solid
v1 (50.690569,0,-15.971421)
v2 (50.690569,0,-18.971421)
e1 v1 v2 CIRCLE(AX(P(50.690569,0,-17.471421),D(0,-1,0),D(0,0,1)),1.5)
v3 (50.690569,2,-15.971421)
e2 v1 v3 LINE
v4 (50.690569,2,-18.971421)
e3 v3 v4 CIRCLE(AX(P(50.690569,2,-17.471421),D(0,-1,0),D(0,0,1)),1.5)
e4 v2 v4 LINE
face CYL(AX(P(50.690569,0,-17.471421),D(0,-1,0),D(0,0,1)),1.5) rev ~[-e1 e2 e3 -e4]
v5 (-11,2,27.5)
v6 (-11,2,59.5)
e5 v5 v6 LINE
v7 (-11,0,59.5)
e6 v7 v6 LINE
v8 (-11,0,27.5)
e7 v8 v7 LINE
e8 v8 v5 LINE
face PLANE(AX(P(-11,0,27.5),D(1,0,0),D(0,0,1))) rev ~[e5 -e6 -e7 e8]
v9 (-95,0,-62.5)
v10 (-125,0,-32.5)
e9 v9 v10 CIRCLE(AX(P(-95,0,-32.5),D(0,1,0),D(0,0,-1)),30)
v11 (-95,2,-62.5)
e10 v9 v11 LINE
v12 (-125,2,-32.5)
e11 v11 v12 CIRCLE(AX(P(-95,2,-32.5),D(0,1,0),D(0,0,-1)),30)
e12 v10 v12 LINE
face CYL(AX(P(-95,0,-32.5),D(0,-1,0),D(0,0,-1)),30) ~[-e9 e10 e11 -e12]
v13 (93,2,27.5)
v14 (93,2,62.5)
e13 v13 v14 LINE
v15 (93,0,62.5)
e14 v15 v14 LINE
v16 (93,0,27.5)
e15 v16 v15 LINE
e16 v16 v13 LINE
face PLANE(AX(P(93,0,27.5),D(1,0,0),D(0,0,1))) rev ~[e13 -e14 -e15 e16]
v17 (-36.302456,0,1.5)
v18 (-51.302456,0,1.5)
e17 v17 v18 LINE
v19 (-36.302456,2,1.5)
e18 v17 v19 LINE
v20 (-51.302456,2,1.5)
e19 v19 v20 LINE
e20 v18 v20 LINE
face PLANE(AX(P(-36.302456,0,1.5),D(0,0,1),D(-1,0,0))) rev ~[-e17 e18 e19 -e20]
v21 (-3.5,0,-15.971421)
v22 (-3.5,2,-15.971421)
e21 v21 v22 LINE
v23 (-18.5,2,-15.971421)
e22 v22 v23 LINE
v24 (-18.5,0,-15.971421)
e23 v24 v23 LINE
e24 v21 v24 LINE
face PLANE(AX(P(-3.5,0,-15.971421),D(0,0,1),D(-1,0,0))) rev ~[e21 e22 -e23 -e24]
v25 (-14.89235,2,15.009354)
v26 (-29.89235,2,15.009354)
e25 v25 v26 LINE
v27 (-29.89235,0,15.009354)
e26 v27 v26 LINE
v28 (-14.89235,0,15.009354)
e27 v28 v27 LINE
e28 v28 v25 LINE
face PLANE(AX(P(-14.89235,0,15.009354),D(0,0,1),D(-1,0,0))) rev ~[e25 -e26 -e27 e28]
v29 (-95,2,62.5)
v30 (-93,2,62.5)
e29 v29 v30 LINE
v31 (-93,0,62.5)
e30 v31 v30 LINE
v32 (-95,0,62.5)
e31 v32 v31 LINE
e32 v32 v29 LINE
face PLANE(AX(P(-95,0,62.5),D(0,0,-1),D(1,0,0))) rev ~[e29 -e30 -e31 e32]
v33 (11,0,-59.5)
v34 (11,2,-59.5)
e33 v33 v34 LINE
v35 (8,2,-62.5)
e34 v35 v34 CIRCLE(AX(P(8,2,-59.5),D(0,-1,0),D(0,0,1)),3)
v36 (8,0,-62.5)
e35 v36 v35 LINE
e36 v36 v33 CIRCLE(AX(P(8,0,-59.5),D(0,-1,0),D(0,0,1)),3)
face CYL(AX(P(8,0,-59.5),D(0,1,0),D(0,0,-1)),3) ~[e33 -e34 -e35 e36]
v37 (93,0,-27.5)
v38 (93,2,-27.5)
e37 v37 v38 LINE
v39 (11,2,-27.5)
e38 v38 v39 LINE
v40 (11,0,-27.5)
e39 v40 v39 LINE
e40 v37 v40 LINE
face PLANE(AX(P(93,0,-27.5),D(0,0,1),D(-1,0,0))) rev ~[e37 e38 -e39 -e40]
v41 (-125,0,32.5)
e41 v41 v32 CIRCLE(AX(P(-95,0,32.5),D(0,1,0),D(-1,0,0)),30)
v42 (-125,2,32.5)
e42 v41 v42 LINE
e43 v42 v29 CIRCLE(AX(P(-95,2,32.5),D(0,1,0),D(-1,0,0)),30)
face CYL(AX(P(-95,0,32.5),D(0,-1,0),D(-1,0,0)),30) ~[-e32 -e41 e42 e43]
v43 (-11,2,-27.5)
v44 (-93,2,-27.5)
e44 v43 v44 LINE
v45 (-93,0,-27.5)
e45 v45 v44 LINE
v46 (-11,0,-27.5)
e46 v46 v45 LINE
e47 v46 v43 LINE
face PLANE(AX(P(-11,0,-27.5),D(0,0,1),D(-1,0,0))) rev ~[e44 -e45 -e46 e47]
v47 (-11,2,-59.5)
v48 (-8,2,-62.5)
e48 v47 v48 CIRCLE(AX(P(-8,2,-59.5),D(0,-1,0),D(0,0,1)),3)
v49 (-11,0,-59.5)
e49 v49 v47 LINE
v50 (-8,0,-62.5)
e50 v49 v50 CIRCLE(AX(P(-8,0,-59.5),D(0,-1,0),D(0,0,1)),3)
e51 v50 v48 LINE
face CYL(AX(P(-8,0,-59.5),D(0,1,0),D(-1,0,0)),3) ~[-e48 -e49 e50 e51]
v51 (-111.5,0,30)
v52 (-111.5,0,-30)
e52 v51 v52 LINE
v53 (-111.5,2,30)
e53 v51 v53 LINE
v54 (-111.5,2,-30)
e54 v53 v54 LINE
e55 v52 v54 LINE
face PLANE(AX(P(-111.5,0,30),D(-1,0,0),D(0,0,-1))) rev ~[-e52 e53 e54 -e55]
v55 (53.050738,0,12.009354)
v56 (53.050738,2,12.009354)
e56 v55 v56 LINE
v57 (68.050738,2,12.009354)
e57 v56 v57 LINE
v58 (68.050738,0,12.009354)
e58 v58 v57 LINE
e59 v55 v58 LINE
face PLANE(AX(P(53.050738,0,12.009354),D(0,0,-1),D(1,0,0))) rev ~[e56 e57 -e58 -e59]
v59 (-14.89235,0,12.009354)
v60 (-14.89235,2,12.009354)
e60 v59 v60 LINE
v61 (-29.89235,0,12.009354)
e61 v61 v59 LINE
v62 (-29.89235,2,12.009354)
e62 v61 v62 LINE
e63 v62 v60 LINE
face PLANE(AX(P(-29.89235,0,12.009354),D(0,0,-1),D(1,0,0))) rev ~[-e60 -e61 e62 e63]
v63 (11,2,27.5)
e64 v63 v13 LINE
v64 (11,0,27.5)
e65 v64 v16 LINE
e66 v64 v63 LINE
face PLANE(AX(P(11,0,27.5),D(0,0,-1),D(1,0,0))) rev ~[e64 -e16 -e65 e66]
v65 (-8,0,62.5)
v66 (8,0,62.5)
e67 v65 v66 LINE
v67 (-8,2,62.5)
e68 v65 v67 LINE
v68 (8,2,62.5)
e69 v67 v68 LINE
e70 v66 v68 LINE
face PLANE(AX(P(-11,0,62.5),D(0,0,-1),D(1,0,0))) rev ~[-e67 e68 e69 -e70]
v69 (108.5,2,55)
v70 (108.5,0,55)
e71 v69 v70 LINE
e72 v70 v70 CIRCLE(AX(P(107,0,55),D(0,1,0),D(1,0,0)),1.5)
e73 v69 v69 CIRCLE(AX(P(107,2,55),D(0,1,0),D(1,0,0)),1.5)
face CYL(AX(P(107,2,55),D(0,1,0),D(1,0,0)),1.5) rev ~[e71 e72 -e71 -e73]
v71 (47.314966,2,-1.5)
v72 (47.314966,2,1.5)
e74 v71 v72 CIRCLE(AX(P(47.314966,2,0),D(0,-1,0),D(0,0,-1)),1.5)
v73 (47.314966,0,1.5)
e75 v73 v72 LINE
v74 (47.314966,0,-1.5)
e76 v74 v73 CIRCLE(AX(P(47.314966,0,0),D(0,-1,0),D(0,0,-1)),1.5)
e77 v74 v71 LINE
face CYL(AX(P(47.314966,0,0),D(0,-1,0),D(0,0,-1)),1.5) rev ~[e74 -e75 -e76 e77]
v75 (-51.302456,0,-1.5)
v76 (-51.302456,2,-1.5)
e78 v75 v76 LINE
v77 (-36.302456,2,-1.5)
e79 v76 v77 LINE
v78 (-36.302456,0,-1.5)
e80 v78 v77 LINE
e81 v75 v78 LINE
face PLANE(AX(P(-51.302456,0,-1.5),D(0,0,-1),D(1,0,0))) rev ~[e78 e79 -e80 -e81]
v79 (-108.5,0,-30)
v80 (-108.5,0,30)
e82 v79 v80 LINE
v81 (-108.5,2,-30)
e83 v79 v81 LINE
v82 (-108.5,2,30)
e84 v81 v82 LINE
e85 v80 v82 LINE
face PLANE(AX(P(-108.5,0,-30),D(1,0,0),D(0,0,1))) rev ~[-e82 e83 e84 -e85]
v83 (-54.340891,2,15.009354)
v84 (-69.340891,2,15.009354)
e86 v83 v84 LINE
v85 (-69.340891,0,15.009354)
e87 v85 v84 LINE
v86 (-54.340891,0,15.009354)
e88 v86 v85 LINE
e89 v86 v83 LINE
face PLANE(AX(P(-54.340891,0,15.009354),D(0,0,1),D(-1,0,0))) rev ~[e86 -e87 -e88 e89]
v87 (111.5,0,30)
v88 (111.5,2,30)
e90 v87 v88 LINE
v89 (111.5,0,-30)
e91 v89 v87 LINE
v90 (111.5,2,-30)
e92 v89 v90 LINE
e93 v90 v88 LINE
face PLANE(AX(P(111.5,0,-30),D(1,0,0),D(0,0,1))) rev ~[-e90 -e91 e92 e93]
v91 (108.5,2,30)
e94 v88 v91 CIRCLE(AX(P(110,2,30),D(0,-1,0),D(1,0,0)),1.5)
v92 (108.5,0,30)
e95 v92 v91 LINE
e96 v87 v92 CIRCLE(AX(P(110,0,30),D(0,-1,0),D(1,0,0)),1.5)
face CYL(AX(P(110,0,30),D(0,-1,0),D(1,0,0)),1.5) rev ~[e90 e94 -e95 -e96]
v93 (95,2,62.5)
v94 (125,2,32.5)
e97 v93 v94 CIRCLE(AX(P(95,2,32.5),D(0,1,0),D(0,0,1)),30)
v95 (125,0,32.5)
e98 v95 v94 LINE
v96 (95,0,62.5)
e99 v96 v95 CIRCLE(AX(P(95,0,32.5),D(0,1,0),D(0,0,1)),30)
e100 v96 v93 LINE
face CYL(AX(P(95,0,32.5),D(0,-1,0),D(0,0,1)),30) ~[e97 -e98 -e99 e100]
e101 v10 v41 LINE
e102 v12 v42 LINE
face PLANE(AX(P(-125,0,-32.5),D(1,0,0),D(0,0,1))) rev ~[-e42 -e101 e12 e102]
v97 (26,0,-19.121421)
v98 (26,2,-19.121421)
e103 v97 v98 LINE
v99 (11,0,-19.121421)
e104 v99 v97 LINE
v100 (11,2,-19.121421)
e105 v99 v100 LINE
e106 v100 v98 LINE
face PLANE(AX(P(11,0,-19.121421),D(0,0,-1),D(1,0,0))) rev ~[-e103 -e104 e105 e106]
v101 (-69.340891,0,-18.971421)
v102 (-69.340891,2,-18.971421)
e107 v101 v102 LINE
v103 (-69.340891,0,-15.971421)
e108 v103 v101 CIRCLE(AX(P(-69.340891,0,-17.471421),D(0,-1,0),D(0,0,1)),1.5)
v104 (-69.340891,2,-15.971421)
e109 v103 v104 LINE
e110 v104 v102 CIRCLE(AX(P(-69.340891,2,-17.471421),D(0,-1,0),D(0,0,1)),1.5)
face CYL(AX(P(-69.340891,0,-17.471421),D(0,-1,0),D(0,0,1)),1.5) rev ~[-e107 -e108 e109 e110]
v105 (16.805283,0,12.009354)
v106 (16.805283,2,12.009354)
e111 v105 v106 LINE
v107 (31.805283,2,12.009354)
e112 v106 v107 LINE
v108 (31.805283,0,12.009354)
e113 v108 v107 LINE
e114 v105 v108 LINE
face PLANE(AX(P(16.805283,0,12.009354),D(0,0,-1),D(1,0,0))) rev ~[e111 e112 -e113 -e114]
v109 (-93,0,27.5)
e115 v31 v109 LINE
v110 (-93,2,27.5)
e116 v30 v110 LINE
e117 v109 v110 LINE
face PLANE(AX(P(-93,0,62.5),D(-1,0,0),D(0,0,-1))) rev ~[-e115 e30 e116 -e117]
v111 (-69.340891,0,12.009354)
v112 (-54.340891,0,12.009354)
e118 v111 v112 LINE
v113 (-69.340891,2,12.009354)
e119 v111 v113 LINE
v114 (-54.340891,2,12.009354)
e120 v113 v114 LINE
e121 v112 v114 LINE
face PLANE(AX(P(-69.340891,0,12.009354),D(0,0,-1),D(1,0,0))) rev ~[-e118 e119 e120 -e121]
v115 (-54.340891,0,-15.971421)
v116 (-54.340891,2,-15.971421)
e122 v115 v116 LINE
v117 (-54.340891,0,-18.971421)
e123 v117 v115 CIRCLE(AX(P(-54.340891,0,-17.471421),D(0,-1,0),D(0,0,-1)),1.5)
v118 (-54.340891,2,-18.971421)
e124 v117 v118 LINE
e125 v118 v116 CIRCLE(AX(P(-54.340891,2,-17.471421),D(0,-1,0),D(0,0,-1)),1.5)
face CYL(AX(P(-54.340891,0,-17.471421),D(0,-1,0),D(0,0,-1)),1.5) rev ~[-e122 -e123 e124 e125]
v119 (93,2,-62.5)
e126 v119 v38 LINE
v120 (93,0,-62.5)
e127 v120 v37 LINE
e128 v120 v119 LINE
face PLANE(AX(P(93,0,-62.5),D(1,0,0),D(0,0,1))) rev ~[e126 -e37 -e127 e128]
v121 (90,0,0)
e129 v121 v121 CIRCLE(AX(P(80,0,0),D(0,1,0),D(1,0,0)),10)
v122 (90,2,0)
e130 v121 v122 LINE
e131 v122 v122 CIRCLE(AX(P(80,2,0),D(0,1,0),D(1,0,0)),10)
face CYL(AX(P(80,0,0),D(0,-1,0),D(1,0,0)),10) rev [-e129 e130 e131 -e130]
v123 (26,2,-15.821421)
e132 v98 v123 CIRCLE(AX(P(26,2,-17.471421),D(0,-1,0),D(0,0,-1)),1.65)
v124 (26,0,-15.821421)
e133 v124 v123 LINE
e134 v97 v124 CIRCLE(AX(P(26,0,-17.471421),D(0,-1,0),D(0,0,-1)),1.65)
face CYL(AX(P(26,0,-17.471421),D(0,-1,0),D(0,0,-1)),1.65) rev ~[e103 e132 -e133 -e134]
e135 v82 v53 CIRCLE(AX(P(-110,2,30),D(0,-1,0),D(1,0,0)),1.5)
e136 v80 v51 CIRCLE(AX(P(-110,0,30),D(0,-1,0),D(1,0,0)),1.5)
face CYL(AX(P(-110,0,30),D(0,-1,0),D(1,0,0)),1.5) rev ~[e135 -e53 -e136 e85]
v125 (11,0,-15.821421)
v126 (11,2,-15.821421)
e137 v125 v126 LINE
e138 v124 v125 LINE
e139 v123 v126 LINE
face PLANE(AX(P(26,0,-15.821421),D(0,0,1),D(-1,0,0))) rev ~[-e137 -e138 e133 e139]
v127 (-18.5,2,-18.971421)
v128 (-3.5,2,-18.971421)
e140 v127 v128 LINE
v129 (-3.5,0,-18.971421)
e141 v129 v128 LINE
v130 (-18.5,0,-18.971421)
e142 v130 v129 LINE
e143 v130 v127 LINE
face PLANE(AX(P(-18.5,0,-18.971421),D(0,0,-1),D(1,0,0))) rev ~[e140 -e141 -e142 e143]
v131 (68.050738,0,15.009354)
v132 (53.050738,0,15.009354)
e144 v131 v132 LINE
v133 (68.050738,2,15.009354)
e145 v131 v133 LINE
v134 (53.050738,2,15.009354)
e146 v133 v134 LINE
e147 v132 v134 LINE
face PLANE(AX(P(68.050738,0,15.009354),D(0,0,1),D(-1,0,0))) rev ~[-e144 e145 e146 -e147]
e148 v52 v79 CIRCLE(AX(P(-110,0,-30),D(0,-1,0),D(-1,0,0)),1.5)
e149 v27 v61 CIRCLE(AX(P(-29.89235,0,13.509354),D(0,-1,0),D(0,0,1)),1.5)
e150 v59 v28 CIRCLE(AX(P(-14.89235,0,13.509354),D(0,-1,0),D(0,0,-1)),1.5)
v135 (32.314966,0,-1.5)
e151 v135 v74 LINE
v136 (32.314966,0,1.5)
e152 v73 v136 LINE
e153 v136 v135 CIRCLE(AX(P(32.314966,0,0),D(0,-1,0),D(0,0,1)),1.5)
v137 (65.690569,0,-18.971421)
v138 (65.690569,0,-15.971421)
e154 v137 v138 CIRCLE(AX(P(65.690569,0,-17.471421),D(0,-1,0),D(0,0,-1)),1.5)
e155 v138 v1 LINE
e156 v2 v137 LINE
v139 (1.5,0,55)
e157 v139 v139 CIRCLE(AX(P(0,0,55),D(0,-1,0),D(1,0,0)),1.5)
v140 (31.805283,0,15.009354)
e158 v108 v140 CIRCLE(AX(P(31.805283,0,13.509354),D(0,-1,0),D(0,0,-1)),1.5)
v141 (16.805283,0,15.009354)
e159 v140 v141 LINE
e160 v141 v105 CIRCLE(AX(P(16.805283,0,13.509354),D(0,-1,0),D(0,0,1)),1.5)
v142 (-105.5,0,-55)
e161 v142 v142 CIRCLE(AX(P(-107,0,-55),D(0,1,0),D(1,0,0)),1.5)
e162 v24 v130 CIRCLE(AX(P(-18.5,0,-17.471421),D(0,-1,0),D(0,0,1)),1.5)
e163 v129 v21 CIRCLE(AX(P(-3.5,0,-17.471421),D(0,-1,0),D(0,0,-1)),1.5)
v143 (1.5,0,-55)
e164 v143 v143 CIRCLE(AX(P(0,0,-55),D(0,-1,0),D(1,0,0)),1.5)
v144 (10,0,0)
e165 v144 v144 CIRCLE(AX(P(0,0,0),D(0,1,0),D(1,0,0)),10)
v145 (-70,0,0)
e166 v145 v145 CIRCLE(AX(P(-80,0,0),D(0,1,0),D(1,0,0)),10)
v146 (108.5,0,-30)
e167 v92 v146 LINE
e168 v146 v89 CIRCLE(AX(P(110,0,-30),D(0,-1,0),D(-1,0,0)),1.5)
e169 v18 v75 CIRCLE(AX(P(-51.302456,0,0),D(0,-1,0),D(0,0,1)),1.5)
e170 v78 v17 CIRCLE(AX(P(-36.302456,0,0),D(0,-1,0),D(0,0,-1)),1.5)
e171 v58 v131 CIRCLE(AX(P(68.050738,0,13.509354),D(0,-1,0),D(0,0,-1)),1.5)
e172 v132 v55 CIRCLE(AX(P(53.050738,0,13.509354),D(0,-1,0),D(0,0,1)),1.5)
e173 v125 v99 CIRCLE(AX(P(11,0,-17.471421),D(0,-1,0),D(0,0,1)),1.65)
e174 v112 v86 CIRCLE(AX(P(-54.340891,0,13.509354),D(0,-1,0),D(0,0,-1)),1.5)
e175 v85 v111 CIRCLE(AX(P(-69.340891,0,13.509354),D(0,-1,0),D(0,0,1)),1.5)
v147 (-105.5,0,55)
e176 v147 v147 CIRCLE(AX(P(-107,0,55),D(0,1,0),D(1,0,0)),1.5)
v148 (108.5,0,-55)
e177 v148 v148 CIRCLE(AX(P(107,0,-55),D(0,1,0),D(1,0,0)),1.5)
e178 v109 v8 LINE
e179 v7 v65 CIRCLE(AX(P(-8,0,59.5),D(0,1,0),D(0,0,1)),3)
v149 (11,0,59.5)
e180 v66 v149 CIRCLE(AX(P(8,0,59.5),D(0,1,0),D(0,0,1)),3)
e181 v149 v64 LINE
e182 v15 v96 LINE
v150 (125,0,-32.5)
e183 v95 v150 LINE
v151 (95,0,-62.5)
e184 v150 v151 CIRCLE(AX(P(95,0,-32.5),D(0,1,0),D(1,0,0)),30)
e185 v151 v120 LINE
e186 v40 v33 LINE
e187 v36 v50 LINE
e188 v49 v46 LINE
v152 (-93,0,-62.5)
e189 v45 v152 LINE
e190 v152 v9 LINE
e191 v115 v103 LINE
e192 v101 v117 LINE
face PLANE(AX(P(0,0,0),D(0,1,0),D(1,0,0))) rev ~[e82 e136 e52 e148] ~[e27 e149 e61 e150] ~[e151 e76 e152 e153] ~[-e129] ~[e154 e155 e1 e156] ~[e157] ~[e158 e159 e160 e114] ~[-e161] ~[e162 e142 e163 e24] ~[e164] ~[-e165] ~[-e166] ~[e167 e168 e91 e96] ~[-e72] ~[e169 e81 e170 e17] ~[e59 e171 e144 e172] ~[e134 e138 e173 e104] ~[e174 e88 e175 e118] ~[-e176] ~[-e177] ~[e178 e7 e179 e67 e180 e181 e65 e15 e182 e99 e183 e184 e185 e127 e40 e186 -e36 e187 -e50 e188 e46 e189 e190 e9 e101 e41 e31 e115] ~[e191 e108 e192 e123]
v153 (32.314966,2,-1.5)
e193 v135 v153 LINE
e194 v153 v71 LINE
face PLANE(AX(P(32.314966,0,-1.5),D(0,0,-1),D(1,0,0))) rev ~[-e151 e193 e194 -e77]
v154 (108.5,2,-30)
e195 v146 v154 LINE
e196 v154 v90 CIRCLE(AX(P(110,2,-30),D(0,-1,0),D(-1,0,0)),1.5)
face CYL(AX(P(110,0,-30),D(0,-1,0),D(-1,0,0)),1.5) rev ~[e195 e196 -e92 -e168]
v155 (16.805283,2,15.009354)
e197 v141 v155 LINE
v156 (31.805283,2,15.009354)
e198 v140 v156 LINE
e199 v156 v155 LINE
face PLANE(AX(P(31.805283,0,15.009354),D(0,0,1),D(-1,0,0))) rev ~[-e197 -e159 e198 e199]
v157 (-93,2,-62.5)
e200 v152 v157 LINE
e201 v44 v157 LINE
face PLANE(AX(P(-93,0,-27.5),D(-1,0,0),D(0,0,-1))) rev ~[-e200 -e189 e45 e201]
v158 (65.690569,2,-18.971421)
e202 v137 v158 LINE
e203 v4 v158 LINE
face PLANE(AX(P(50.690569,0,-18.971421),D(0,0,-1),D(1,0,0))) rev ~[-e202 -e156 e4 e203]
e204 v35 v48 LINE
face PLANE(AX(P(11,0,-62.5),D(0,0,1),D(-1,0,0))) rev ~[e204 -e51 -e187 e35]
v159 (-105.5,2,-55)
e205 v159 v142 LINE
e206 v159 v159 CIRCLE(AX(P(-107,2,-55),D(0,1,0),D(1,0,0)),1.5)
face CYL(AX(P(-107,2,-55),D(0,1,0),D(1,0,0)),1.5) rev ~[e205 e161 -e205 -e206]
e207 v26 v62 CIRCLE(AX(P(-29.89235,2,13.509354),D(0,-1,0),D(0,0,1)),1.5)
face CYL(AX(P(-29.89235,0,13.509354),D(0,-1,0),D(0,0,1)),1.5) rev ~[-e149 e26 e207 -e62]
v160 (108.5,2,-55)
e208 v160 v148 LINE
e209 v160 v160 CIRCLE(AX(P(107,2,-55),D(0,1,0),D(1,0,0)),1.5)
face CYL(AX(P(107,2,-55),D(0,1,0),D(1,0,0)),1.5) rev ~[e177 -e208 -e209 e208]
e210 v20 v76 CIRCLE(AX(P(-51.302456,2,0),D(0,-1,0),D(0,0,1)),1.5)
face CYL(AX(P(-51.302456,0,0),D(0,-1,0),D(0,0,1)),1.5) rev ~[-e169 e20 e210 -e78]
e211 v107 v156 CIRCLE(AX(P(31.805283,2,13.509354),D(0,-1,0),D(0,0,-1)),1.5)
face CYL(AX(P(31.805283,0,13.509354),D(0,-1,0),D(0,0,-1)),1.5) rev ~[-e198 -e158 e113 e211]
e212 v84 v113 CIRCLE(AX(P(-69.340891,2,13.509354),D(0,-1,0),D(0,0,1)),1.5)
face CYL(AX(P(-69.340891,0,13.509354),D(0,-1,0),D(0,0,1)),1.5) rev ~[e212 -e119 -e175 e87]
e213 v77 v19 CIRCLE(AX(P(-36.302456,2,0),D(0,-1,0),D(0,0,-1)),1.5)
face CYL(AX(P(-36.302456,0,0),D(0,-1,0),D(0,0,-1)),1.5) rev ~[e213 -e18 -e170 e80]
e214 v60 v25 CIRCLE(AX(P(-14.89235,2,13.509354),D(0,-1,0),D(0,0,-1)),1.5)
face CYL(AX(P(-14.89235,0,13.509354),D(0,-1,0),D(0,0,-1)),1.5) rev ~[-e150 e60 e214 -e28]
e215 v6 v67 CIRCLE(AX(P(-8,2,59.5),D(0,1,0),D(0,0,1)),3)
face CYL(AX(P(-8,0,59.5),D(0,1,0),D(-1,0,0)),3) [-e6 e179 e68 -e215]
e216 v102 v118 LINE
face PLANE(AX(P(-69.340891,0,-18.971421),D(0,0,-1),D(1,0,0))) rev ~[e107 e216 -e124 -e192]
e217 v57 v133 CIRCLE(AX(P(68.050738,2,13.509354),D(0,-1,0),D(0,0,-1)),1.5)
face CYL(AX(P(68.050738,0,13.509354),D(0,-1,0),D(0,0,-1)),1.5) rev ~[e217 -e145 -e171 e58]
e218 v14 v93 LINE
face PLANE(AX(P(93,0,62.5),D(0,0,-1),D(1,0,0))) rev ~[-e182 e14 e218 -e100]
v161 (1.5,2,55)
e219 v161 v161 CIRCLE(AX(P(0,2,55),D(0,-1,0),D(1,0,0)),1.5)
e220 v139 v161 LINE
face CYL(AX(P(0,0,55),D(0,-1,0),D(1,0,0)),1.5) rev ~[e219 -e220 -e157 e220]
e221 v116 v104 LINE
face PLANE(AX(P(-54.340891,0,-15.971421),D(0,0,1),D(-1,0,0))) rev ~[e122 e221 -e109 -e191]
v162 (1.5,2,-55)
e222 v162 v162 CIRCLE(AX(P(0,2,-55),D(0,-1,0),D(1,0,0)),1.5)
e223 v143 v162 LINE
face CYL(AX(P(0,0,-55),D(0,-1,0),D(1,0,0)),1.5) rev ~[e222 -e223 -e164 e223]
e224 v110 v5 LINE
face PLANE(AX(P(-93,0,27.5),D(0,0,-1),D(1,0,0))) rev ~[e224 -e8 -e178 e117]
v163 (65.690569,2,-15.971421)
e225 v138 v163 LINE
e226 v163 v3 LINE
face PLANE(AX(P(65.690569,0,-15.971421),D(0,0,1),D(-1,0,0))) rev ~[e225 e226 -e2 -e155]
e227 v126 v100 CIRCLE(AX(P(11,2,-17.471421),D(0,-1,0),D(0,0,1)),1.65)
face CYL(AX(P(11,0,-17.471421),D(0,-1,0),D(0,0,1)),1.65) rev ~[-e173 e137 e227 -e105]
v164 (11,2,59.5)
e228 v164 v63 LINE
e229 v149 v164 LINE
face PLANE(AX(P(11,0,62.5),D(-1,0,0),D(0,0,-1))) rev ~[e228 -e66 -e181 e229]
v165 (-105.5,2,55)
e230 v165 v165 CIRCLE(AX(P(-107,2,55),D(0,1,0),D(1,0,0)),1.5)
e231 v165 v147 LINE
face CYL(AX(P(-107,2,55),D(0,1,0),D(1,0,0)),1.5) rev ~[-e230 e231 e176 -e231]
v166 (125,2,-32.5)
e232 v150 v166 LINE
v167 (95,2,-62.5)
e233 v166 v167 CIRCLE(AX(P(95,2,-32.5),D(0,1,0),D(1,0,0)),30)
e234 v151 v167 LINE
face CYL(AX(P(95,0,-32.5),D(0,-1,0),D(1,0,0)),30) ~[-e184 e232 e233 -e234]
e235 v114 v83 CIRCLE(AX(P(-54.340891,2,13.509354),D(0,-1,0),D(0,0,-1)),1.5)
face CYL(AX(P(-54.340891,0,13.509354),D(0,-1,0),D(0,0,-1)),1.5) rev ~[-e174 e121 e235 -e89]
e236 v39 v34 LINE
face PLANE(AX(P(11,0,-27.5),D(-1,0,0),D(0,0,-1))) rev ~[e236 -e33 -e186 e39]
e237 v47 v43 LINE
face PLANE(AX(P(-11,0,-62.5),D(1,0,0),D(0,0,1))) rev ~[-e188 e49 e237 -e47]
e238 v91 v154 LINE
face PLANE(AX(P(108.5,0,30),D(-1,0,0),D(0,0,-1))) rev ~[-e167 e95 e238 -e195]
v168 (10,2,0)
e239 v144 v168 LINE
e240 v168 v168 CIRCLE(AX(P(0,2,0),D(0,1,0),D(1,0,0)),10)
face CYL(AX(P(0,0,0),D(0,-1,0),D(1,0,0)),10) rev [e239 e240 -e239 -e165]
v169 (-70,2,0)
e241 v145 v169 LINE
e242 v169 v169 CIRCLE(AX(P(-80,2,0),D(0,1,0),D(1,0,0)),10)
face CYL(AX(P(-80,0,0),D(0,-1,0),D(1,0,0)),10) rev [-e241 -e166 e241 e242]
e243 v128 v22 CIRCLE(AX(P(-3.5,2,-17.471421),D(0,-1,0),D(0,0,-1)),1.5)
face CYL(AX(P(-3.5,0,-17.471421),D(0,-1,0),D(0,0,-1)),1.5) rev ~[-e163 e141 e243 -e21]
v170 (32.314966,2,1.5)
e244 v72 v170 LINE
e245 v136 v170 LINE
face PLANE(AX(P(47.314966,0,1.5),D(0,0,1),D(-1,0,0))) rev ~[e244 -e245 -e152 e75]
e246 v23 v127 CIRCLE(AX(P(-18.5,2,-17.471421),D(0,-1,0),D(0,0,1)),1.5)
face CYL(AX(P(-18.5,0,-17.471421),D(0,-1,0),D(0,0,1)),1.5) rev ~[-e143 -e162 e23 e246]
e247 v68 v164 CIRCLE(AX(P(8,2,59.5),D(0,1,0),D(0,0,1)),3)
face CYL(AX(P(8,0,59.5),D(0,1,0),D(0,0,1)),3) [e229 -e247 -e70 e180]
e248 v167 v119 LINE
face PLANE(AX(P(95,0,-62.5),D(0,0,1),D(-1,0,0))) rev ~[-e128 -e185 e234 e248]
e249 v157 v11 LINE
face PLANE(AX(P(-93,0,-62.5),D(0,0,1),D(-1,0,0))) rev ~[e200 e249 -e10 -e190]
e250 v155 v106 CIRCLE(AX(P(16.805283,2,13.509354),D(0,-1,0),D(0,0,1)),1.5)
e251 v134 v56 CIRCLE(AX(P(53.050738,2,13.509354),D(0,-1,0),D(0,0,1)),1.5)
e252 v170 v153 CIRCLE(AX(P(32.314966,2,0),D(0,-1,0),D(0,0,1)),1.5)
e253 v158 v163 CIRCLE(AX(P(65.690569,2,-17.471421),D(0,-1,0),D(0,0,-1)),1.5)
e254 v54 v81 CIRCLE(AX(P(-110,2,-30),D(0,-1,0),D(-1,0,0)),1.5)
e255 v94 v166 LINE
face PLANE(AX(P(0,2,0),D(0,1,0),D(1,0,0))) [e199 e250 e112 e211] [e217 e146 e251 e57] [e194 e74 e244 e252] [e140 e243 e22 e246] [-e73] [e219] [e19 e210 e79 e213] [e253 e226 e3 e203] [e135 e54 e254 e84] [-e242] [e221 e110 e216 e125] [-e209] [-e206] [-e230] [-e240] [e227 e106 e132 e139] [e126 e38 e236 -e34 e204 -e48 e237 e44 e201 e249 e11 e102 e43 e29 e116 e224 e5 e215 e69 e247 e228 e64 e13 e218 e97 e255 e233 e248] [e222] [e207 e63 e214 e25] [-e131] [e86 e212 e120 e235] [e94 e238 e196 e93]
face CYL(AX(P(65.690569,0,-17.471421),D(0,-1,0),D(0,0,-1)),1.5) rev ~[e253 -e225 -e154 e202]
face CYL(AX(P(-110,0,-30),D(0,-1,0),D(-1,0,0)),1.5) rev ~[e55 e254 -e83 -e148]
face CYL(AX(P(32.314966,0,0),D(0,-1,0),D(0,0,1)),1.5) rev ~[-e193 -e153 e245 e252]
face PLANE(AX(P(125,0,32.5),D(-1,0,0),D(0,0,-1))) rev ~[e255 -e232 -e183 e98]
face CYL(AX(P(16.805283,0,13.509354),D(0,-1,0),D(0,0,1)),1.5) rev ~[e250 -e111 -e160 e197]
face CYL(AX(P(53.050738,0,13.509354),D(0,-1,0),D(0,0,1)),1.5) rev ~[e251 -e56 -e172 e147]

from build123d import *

# Parameters (mm, degrees)
SKETCH_1_R          = 10
EXTRUDE_1_DEPTH     = 2
FILLET_1_R          = 3
SKETCH_2_R          = 1.5
CUT_EXTRUDE_1_DEPTH = 3
SKETCH_3_R          = 1.5
CUT_EXTRUDE_2_DEPTH = 10


with BuildPart() as part:
    # 草图1 → 凸台-拉伸1 (new body)
    with BuildSketch(Plane(origin=(0, 0, 0), x_dir=(1, 0, 0), z_dir=(0, 1, 0))):
        with BuildLine():
            ThreePointArc((-125, -32.5), (-116.213203436, -53.713203436), (-95, -62.5))
            Line((-95, -62.5), (-93, -62.5))
            Line((-93, -62.5), (-93, -27.5))
            Line((-93, -27.5), (-11, -27.5))
            Line((-11, -27.5), (-11, -62.5))
            Line((-11, -62.5), (11, -62.5))
            Line((11, -62.5), (11, -27.5))
            Line((11, -27.5), (93, -27.5))
            Line((93, -27.5), (93, -62.5))
            Line((93, -62.5), (95, -62.5))
            ThreePointArc((95, -62.5), (116.213203436, -53.713203436), (125, -32.5))
            Line((125, -32.5), (125, 32.5))
            ThreePointArc((125, 32.5), (116.213203436, 53.713203436), (95, 62.5))
            Line((95, 62.5), (93, 62.5))
            Line((93, 62.5), (93, 27.5))
            Line((93, 27.5), (11, 27.5))
            Line((11, 27.5), (11, 62.5))
            Line((11, 62.5), (-11, 62.5))
            Line((-11, 62.5), (-11, 27.5))
            Line((-11, 27.5), (-93, 27.5))
            Line((-93, 27.5), (-93, 62.5))
            Line((-93, 62.5), (-95, 62.5))
            ThreePointArc((-95, 62.5), (-116.213203436, 53.713203436), (-125, 32.5))
            Line((-125, 32.5), (-125, -32.5))
        make_face()
        with BuildLine():
            ThreePointArc((-111.5, 30), (-110, 31.5), (-108.5, 30))
            Line((-108.5, 30), (-108.5, -30))
            ThreePointArc((-108.5, -30), (-110, -31.5), (-111.5, -30))
            Line((-111.5, -30), (-111.5, 30))
        make_face(mode=Mode.SUBTRACT)
        with Locations((-80, 0)):
            Circle(SKETCH_1_R, mode=Mode.SUBTRACT)
        with BuildLine():
            ThreePointArc((-69.340891424, -15.009353682), (-70.840891424, -13.509353682), (-69.340891424, -12.009353682))
            Line((-69.340891424, -12.009353682), (-54.340891424, -12.009353682))
            ThreePointArc((-54.340891424, -12.009353682), (-52.840891424, -13.509353682), (-54.340891424, -15.009353682))
            Line((-54.340891424, -15.009353682), (-69.340891424, -15.009353682))
        make_face(mode=Mode.SUBTRACT)
        with BuildLine():
            ThreePointArc((-51.302455724, -1.5), (-52.802455724, 0), (-51.302455724, 1.5))
            Line((-51.302455724, 1.5), (-36.302455724, 1.5))
            ThreePointArc((-36.302455724, 1.5), (-34.802455724, 0), (-36.302455724, -1.5))
            Line((-36.302455724, -1.5), (-51.302455724, -1.5))
        make_face(mode=Mode.SUBTRACT)
        with BuildLine():
            ThreePointArc((-29.892349798, -15.009353682), (-31.392349798, -13.509353682), (-29.892349798, -12.009353682))
            Line((-29.892349798, -12.009353682), (-14.892349798, -12.009353682))
            ThreePointArc((-14.892349798, -12.009353682), (-13.392349798, -13.509353682), (-14.892349798, -15.009353682))
            Line((-14.892349798, -15.009353682), (-29.892349798, -15.009353682))
        make_face(mode=Mode.SUBTRACT)
        with BuildLine():
            ThreePointArc((16.80528281, -15.009353682), (15.30528281, -13.509353682), (16.80528281, -12.009353682))
            Line((16.80528281, -12.009353682), (31.80528281, -12.009353682))
            ThreePointArc((31.80528281, -12.009353682), (33.30528281, -13.509353682), (31.80528281, -15.009353682))
            Line((31.80528281, -15.009353682), (16.80528281, -15.009353682))
        make_face(mode=Mode.SUBTRACT)
        with BuildLine():
            ThreePointArc((53.050737723, -15.009353682), (51.550737723, -13.509353682), (53.050737723, -12.009353682))
            Line((53.050737723, -12.009353682), (68.050737723, -12.009353682))
            ThreePointArc((68.050737723, -12.009353682), (69.550737723, -13.509353682), (68.050737723, -15.009353682))
            Line((68.050737723, -15.009353682), (53.050737723, -15.009353682))
        make_face(mode=Mode.SUBTRACT)
        with BuildLine():
            ThreePointArc((32.314965843, -1.5), (30.814965843, 0), (32.314965843, 1.5))
            Line((32.314965843, 1.5), (47.314965843, 1.5))
            ThreePointArc((47.314965843, 1.5), (48.814965843, 0), (47.314965843, -1.5))
            Line((47.314965843, -1.5), (32.314965843, -1.5))
        make_face(mode=Mode.SUBTRACT)
        with Locations((80, 0)):
            Circle(SKETCH_1_R, mode=Mode.SUBTRACT)
        with BuildLine():
            ThreePointArc((108.5, 30), (110, 31.5), (111.5, 30))
            Line((111.5, 30), (111.5, -30))
            ThreePointArc((111.5, -30), (110, -31.5), (108.5, -30))
            Line((108.5, -30), (108.5, 30))
        make_face(mode=Mode.SUBTRACT)
        with BuildLine():
            ThreePointArc((-69.340891424, 15.971420639), (-70.840891424, 17.471420639), (-69.340891424, 18.971420639))
            Line((-69.340891424, 18.971420639), (-54.340891424, 18.971420639))
            ThreePointArc((-54.340891424, 18.971420639), (-52.840891424, 17.471420639), (-54.340891424, 15.971420639))
            Line((-54.340891424, 15.971420639), (-69.340891424, 15.971420639))
        make_face(mode=Mode.SUBTRACT)
        with BuildLine():
            ThreePointArc((-18.5, 15.971420639), (-20, 17.471420639), (-18.5, 18.971420639))
            Line((-18.5, 18.971420639), (-3.5, 18.971420639))
            ThreePointArc((-3.5, 18.971420639), (-2, 17.471420639), (-3.5, 15.971420639))
            Line((-3.5, 15.971420639), (-18.5, 15.971420639))
        make_face(mode=Mode.SUBTRACT)
        Circle(SKETCH_1_R, mode=Mode.SUBTRACT)
        with BuildLine():
            ThreePointArc((11, 15.821420639), (9.35, 17.471420639), (11, 19.121420639))
            Line((11, 19.121420639), (26, 19.121420639))
            ThreePointArc((26, 19.121420639), (27.65, 17.471420639), (26, 15.821420639))
            Line((26, 15.821420639), (11, 15.821420639))
        make_face(mode=Mode.SUBTRACT)
        with BuildLine():
            ThreePointArc((50.690568566, 15.971420639), (49.190568566, 17.471420639), (50.690568566, 18.971420639))
            Line((50.690568566, 18.971420639), (65.690568566, 18.971420639))
            ThreePointArc((65.690568566, 18.971420639), (67.190568566, 17.471420639), (65.690568566, 15.971420639))
            Line((65.690568566, 15.971420639), (50.690568566, 15.971420639))
        make_face(mode=Mode.SUBTRACT)
    extrude(amount=EXTRUDE_1_DEPTH)

    # 圆角1
    fillet_1_edges = [part.edges().sort_by_distance(p)[0] for p in [
        (-11, 1, -62.5),
        (11, 1, -62.5),
        (11, 1, 62.5),
        (-11, 1, 62.5),
    ]]
    fillet(fillet_1_edges, radius=FILLET_1_R)

    # 草图2 → 切除-拉伸1 (cut, through all)
    with BuildSketch(Plane(origin=(0, 2, 0), x_dir=(1, 0, 0), z_dir=(0, 1, 0))):
        with Locations((107, -55)):
            Circle(SKETCH_2_R)
        with Locations((107, 55)):
            Circle(SKETCH_2_R)
        with Locations((-107, 55)):
            Circle(SKETCH_2_R)
        with Locations((-107, -55)):
            Circle(SKETCH_2_R)
    extrude(amount=-CUT_EXTRUDE_1_DEPTH, mode=Mode.SUBTRACT)

    # 草图3 → 切除-拉伸2 (cut)
    with BuildSketch(Plane.XZ):
        with Locations((0, 55)):
            Circle(SKETCH_3_R)
        with Locations((0, -55)):
            Circle(SKETCH_3_R)
    extrude(amount=-CUT_EXTRUDE_2_DEPTH, mode=Mode.SUBTRACT)


solid = part.part
